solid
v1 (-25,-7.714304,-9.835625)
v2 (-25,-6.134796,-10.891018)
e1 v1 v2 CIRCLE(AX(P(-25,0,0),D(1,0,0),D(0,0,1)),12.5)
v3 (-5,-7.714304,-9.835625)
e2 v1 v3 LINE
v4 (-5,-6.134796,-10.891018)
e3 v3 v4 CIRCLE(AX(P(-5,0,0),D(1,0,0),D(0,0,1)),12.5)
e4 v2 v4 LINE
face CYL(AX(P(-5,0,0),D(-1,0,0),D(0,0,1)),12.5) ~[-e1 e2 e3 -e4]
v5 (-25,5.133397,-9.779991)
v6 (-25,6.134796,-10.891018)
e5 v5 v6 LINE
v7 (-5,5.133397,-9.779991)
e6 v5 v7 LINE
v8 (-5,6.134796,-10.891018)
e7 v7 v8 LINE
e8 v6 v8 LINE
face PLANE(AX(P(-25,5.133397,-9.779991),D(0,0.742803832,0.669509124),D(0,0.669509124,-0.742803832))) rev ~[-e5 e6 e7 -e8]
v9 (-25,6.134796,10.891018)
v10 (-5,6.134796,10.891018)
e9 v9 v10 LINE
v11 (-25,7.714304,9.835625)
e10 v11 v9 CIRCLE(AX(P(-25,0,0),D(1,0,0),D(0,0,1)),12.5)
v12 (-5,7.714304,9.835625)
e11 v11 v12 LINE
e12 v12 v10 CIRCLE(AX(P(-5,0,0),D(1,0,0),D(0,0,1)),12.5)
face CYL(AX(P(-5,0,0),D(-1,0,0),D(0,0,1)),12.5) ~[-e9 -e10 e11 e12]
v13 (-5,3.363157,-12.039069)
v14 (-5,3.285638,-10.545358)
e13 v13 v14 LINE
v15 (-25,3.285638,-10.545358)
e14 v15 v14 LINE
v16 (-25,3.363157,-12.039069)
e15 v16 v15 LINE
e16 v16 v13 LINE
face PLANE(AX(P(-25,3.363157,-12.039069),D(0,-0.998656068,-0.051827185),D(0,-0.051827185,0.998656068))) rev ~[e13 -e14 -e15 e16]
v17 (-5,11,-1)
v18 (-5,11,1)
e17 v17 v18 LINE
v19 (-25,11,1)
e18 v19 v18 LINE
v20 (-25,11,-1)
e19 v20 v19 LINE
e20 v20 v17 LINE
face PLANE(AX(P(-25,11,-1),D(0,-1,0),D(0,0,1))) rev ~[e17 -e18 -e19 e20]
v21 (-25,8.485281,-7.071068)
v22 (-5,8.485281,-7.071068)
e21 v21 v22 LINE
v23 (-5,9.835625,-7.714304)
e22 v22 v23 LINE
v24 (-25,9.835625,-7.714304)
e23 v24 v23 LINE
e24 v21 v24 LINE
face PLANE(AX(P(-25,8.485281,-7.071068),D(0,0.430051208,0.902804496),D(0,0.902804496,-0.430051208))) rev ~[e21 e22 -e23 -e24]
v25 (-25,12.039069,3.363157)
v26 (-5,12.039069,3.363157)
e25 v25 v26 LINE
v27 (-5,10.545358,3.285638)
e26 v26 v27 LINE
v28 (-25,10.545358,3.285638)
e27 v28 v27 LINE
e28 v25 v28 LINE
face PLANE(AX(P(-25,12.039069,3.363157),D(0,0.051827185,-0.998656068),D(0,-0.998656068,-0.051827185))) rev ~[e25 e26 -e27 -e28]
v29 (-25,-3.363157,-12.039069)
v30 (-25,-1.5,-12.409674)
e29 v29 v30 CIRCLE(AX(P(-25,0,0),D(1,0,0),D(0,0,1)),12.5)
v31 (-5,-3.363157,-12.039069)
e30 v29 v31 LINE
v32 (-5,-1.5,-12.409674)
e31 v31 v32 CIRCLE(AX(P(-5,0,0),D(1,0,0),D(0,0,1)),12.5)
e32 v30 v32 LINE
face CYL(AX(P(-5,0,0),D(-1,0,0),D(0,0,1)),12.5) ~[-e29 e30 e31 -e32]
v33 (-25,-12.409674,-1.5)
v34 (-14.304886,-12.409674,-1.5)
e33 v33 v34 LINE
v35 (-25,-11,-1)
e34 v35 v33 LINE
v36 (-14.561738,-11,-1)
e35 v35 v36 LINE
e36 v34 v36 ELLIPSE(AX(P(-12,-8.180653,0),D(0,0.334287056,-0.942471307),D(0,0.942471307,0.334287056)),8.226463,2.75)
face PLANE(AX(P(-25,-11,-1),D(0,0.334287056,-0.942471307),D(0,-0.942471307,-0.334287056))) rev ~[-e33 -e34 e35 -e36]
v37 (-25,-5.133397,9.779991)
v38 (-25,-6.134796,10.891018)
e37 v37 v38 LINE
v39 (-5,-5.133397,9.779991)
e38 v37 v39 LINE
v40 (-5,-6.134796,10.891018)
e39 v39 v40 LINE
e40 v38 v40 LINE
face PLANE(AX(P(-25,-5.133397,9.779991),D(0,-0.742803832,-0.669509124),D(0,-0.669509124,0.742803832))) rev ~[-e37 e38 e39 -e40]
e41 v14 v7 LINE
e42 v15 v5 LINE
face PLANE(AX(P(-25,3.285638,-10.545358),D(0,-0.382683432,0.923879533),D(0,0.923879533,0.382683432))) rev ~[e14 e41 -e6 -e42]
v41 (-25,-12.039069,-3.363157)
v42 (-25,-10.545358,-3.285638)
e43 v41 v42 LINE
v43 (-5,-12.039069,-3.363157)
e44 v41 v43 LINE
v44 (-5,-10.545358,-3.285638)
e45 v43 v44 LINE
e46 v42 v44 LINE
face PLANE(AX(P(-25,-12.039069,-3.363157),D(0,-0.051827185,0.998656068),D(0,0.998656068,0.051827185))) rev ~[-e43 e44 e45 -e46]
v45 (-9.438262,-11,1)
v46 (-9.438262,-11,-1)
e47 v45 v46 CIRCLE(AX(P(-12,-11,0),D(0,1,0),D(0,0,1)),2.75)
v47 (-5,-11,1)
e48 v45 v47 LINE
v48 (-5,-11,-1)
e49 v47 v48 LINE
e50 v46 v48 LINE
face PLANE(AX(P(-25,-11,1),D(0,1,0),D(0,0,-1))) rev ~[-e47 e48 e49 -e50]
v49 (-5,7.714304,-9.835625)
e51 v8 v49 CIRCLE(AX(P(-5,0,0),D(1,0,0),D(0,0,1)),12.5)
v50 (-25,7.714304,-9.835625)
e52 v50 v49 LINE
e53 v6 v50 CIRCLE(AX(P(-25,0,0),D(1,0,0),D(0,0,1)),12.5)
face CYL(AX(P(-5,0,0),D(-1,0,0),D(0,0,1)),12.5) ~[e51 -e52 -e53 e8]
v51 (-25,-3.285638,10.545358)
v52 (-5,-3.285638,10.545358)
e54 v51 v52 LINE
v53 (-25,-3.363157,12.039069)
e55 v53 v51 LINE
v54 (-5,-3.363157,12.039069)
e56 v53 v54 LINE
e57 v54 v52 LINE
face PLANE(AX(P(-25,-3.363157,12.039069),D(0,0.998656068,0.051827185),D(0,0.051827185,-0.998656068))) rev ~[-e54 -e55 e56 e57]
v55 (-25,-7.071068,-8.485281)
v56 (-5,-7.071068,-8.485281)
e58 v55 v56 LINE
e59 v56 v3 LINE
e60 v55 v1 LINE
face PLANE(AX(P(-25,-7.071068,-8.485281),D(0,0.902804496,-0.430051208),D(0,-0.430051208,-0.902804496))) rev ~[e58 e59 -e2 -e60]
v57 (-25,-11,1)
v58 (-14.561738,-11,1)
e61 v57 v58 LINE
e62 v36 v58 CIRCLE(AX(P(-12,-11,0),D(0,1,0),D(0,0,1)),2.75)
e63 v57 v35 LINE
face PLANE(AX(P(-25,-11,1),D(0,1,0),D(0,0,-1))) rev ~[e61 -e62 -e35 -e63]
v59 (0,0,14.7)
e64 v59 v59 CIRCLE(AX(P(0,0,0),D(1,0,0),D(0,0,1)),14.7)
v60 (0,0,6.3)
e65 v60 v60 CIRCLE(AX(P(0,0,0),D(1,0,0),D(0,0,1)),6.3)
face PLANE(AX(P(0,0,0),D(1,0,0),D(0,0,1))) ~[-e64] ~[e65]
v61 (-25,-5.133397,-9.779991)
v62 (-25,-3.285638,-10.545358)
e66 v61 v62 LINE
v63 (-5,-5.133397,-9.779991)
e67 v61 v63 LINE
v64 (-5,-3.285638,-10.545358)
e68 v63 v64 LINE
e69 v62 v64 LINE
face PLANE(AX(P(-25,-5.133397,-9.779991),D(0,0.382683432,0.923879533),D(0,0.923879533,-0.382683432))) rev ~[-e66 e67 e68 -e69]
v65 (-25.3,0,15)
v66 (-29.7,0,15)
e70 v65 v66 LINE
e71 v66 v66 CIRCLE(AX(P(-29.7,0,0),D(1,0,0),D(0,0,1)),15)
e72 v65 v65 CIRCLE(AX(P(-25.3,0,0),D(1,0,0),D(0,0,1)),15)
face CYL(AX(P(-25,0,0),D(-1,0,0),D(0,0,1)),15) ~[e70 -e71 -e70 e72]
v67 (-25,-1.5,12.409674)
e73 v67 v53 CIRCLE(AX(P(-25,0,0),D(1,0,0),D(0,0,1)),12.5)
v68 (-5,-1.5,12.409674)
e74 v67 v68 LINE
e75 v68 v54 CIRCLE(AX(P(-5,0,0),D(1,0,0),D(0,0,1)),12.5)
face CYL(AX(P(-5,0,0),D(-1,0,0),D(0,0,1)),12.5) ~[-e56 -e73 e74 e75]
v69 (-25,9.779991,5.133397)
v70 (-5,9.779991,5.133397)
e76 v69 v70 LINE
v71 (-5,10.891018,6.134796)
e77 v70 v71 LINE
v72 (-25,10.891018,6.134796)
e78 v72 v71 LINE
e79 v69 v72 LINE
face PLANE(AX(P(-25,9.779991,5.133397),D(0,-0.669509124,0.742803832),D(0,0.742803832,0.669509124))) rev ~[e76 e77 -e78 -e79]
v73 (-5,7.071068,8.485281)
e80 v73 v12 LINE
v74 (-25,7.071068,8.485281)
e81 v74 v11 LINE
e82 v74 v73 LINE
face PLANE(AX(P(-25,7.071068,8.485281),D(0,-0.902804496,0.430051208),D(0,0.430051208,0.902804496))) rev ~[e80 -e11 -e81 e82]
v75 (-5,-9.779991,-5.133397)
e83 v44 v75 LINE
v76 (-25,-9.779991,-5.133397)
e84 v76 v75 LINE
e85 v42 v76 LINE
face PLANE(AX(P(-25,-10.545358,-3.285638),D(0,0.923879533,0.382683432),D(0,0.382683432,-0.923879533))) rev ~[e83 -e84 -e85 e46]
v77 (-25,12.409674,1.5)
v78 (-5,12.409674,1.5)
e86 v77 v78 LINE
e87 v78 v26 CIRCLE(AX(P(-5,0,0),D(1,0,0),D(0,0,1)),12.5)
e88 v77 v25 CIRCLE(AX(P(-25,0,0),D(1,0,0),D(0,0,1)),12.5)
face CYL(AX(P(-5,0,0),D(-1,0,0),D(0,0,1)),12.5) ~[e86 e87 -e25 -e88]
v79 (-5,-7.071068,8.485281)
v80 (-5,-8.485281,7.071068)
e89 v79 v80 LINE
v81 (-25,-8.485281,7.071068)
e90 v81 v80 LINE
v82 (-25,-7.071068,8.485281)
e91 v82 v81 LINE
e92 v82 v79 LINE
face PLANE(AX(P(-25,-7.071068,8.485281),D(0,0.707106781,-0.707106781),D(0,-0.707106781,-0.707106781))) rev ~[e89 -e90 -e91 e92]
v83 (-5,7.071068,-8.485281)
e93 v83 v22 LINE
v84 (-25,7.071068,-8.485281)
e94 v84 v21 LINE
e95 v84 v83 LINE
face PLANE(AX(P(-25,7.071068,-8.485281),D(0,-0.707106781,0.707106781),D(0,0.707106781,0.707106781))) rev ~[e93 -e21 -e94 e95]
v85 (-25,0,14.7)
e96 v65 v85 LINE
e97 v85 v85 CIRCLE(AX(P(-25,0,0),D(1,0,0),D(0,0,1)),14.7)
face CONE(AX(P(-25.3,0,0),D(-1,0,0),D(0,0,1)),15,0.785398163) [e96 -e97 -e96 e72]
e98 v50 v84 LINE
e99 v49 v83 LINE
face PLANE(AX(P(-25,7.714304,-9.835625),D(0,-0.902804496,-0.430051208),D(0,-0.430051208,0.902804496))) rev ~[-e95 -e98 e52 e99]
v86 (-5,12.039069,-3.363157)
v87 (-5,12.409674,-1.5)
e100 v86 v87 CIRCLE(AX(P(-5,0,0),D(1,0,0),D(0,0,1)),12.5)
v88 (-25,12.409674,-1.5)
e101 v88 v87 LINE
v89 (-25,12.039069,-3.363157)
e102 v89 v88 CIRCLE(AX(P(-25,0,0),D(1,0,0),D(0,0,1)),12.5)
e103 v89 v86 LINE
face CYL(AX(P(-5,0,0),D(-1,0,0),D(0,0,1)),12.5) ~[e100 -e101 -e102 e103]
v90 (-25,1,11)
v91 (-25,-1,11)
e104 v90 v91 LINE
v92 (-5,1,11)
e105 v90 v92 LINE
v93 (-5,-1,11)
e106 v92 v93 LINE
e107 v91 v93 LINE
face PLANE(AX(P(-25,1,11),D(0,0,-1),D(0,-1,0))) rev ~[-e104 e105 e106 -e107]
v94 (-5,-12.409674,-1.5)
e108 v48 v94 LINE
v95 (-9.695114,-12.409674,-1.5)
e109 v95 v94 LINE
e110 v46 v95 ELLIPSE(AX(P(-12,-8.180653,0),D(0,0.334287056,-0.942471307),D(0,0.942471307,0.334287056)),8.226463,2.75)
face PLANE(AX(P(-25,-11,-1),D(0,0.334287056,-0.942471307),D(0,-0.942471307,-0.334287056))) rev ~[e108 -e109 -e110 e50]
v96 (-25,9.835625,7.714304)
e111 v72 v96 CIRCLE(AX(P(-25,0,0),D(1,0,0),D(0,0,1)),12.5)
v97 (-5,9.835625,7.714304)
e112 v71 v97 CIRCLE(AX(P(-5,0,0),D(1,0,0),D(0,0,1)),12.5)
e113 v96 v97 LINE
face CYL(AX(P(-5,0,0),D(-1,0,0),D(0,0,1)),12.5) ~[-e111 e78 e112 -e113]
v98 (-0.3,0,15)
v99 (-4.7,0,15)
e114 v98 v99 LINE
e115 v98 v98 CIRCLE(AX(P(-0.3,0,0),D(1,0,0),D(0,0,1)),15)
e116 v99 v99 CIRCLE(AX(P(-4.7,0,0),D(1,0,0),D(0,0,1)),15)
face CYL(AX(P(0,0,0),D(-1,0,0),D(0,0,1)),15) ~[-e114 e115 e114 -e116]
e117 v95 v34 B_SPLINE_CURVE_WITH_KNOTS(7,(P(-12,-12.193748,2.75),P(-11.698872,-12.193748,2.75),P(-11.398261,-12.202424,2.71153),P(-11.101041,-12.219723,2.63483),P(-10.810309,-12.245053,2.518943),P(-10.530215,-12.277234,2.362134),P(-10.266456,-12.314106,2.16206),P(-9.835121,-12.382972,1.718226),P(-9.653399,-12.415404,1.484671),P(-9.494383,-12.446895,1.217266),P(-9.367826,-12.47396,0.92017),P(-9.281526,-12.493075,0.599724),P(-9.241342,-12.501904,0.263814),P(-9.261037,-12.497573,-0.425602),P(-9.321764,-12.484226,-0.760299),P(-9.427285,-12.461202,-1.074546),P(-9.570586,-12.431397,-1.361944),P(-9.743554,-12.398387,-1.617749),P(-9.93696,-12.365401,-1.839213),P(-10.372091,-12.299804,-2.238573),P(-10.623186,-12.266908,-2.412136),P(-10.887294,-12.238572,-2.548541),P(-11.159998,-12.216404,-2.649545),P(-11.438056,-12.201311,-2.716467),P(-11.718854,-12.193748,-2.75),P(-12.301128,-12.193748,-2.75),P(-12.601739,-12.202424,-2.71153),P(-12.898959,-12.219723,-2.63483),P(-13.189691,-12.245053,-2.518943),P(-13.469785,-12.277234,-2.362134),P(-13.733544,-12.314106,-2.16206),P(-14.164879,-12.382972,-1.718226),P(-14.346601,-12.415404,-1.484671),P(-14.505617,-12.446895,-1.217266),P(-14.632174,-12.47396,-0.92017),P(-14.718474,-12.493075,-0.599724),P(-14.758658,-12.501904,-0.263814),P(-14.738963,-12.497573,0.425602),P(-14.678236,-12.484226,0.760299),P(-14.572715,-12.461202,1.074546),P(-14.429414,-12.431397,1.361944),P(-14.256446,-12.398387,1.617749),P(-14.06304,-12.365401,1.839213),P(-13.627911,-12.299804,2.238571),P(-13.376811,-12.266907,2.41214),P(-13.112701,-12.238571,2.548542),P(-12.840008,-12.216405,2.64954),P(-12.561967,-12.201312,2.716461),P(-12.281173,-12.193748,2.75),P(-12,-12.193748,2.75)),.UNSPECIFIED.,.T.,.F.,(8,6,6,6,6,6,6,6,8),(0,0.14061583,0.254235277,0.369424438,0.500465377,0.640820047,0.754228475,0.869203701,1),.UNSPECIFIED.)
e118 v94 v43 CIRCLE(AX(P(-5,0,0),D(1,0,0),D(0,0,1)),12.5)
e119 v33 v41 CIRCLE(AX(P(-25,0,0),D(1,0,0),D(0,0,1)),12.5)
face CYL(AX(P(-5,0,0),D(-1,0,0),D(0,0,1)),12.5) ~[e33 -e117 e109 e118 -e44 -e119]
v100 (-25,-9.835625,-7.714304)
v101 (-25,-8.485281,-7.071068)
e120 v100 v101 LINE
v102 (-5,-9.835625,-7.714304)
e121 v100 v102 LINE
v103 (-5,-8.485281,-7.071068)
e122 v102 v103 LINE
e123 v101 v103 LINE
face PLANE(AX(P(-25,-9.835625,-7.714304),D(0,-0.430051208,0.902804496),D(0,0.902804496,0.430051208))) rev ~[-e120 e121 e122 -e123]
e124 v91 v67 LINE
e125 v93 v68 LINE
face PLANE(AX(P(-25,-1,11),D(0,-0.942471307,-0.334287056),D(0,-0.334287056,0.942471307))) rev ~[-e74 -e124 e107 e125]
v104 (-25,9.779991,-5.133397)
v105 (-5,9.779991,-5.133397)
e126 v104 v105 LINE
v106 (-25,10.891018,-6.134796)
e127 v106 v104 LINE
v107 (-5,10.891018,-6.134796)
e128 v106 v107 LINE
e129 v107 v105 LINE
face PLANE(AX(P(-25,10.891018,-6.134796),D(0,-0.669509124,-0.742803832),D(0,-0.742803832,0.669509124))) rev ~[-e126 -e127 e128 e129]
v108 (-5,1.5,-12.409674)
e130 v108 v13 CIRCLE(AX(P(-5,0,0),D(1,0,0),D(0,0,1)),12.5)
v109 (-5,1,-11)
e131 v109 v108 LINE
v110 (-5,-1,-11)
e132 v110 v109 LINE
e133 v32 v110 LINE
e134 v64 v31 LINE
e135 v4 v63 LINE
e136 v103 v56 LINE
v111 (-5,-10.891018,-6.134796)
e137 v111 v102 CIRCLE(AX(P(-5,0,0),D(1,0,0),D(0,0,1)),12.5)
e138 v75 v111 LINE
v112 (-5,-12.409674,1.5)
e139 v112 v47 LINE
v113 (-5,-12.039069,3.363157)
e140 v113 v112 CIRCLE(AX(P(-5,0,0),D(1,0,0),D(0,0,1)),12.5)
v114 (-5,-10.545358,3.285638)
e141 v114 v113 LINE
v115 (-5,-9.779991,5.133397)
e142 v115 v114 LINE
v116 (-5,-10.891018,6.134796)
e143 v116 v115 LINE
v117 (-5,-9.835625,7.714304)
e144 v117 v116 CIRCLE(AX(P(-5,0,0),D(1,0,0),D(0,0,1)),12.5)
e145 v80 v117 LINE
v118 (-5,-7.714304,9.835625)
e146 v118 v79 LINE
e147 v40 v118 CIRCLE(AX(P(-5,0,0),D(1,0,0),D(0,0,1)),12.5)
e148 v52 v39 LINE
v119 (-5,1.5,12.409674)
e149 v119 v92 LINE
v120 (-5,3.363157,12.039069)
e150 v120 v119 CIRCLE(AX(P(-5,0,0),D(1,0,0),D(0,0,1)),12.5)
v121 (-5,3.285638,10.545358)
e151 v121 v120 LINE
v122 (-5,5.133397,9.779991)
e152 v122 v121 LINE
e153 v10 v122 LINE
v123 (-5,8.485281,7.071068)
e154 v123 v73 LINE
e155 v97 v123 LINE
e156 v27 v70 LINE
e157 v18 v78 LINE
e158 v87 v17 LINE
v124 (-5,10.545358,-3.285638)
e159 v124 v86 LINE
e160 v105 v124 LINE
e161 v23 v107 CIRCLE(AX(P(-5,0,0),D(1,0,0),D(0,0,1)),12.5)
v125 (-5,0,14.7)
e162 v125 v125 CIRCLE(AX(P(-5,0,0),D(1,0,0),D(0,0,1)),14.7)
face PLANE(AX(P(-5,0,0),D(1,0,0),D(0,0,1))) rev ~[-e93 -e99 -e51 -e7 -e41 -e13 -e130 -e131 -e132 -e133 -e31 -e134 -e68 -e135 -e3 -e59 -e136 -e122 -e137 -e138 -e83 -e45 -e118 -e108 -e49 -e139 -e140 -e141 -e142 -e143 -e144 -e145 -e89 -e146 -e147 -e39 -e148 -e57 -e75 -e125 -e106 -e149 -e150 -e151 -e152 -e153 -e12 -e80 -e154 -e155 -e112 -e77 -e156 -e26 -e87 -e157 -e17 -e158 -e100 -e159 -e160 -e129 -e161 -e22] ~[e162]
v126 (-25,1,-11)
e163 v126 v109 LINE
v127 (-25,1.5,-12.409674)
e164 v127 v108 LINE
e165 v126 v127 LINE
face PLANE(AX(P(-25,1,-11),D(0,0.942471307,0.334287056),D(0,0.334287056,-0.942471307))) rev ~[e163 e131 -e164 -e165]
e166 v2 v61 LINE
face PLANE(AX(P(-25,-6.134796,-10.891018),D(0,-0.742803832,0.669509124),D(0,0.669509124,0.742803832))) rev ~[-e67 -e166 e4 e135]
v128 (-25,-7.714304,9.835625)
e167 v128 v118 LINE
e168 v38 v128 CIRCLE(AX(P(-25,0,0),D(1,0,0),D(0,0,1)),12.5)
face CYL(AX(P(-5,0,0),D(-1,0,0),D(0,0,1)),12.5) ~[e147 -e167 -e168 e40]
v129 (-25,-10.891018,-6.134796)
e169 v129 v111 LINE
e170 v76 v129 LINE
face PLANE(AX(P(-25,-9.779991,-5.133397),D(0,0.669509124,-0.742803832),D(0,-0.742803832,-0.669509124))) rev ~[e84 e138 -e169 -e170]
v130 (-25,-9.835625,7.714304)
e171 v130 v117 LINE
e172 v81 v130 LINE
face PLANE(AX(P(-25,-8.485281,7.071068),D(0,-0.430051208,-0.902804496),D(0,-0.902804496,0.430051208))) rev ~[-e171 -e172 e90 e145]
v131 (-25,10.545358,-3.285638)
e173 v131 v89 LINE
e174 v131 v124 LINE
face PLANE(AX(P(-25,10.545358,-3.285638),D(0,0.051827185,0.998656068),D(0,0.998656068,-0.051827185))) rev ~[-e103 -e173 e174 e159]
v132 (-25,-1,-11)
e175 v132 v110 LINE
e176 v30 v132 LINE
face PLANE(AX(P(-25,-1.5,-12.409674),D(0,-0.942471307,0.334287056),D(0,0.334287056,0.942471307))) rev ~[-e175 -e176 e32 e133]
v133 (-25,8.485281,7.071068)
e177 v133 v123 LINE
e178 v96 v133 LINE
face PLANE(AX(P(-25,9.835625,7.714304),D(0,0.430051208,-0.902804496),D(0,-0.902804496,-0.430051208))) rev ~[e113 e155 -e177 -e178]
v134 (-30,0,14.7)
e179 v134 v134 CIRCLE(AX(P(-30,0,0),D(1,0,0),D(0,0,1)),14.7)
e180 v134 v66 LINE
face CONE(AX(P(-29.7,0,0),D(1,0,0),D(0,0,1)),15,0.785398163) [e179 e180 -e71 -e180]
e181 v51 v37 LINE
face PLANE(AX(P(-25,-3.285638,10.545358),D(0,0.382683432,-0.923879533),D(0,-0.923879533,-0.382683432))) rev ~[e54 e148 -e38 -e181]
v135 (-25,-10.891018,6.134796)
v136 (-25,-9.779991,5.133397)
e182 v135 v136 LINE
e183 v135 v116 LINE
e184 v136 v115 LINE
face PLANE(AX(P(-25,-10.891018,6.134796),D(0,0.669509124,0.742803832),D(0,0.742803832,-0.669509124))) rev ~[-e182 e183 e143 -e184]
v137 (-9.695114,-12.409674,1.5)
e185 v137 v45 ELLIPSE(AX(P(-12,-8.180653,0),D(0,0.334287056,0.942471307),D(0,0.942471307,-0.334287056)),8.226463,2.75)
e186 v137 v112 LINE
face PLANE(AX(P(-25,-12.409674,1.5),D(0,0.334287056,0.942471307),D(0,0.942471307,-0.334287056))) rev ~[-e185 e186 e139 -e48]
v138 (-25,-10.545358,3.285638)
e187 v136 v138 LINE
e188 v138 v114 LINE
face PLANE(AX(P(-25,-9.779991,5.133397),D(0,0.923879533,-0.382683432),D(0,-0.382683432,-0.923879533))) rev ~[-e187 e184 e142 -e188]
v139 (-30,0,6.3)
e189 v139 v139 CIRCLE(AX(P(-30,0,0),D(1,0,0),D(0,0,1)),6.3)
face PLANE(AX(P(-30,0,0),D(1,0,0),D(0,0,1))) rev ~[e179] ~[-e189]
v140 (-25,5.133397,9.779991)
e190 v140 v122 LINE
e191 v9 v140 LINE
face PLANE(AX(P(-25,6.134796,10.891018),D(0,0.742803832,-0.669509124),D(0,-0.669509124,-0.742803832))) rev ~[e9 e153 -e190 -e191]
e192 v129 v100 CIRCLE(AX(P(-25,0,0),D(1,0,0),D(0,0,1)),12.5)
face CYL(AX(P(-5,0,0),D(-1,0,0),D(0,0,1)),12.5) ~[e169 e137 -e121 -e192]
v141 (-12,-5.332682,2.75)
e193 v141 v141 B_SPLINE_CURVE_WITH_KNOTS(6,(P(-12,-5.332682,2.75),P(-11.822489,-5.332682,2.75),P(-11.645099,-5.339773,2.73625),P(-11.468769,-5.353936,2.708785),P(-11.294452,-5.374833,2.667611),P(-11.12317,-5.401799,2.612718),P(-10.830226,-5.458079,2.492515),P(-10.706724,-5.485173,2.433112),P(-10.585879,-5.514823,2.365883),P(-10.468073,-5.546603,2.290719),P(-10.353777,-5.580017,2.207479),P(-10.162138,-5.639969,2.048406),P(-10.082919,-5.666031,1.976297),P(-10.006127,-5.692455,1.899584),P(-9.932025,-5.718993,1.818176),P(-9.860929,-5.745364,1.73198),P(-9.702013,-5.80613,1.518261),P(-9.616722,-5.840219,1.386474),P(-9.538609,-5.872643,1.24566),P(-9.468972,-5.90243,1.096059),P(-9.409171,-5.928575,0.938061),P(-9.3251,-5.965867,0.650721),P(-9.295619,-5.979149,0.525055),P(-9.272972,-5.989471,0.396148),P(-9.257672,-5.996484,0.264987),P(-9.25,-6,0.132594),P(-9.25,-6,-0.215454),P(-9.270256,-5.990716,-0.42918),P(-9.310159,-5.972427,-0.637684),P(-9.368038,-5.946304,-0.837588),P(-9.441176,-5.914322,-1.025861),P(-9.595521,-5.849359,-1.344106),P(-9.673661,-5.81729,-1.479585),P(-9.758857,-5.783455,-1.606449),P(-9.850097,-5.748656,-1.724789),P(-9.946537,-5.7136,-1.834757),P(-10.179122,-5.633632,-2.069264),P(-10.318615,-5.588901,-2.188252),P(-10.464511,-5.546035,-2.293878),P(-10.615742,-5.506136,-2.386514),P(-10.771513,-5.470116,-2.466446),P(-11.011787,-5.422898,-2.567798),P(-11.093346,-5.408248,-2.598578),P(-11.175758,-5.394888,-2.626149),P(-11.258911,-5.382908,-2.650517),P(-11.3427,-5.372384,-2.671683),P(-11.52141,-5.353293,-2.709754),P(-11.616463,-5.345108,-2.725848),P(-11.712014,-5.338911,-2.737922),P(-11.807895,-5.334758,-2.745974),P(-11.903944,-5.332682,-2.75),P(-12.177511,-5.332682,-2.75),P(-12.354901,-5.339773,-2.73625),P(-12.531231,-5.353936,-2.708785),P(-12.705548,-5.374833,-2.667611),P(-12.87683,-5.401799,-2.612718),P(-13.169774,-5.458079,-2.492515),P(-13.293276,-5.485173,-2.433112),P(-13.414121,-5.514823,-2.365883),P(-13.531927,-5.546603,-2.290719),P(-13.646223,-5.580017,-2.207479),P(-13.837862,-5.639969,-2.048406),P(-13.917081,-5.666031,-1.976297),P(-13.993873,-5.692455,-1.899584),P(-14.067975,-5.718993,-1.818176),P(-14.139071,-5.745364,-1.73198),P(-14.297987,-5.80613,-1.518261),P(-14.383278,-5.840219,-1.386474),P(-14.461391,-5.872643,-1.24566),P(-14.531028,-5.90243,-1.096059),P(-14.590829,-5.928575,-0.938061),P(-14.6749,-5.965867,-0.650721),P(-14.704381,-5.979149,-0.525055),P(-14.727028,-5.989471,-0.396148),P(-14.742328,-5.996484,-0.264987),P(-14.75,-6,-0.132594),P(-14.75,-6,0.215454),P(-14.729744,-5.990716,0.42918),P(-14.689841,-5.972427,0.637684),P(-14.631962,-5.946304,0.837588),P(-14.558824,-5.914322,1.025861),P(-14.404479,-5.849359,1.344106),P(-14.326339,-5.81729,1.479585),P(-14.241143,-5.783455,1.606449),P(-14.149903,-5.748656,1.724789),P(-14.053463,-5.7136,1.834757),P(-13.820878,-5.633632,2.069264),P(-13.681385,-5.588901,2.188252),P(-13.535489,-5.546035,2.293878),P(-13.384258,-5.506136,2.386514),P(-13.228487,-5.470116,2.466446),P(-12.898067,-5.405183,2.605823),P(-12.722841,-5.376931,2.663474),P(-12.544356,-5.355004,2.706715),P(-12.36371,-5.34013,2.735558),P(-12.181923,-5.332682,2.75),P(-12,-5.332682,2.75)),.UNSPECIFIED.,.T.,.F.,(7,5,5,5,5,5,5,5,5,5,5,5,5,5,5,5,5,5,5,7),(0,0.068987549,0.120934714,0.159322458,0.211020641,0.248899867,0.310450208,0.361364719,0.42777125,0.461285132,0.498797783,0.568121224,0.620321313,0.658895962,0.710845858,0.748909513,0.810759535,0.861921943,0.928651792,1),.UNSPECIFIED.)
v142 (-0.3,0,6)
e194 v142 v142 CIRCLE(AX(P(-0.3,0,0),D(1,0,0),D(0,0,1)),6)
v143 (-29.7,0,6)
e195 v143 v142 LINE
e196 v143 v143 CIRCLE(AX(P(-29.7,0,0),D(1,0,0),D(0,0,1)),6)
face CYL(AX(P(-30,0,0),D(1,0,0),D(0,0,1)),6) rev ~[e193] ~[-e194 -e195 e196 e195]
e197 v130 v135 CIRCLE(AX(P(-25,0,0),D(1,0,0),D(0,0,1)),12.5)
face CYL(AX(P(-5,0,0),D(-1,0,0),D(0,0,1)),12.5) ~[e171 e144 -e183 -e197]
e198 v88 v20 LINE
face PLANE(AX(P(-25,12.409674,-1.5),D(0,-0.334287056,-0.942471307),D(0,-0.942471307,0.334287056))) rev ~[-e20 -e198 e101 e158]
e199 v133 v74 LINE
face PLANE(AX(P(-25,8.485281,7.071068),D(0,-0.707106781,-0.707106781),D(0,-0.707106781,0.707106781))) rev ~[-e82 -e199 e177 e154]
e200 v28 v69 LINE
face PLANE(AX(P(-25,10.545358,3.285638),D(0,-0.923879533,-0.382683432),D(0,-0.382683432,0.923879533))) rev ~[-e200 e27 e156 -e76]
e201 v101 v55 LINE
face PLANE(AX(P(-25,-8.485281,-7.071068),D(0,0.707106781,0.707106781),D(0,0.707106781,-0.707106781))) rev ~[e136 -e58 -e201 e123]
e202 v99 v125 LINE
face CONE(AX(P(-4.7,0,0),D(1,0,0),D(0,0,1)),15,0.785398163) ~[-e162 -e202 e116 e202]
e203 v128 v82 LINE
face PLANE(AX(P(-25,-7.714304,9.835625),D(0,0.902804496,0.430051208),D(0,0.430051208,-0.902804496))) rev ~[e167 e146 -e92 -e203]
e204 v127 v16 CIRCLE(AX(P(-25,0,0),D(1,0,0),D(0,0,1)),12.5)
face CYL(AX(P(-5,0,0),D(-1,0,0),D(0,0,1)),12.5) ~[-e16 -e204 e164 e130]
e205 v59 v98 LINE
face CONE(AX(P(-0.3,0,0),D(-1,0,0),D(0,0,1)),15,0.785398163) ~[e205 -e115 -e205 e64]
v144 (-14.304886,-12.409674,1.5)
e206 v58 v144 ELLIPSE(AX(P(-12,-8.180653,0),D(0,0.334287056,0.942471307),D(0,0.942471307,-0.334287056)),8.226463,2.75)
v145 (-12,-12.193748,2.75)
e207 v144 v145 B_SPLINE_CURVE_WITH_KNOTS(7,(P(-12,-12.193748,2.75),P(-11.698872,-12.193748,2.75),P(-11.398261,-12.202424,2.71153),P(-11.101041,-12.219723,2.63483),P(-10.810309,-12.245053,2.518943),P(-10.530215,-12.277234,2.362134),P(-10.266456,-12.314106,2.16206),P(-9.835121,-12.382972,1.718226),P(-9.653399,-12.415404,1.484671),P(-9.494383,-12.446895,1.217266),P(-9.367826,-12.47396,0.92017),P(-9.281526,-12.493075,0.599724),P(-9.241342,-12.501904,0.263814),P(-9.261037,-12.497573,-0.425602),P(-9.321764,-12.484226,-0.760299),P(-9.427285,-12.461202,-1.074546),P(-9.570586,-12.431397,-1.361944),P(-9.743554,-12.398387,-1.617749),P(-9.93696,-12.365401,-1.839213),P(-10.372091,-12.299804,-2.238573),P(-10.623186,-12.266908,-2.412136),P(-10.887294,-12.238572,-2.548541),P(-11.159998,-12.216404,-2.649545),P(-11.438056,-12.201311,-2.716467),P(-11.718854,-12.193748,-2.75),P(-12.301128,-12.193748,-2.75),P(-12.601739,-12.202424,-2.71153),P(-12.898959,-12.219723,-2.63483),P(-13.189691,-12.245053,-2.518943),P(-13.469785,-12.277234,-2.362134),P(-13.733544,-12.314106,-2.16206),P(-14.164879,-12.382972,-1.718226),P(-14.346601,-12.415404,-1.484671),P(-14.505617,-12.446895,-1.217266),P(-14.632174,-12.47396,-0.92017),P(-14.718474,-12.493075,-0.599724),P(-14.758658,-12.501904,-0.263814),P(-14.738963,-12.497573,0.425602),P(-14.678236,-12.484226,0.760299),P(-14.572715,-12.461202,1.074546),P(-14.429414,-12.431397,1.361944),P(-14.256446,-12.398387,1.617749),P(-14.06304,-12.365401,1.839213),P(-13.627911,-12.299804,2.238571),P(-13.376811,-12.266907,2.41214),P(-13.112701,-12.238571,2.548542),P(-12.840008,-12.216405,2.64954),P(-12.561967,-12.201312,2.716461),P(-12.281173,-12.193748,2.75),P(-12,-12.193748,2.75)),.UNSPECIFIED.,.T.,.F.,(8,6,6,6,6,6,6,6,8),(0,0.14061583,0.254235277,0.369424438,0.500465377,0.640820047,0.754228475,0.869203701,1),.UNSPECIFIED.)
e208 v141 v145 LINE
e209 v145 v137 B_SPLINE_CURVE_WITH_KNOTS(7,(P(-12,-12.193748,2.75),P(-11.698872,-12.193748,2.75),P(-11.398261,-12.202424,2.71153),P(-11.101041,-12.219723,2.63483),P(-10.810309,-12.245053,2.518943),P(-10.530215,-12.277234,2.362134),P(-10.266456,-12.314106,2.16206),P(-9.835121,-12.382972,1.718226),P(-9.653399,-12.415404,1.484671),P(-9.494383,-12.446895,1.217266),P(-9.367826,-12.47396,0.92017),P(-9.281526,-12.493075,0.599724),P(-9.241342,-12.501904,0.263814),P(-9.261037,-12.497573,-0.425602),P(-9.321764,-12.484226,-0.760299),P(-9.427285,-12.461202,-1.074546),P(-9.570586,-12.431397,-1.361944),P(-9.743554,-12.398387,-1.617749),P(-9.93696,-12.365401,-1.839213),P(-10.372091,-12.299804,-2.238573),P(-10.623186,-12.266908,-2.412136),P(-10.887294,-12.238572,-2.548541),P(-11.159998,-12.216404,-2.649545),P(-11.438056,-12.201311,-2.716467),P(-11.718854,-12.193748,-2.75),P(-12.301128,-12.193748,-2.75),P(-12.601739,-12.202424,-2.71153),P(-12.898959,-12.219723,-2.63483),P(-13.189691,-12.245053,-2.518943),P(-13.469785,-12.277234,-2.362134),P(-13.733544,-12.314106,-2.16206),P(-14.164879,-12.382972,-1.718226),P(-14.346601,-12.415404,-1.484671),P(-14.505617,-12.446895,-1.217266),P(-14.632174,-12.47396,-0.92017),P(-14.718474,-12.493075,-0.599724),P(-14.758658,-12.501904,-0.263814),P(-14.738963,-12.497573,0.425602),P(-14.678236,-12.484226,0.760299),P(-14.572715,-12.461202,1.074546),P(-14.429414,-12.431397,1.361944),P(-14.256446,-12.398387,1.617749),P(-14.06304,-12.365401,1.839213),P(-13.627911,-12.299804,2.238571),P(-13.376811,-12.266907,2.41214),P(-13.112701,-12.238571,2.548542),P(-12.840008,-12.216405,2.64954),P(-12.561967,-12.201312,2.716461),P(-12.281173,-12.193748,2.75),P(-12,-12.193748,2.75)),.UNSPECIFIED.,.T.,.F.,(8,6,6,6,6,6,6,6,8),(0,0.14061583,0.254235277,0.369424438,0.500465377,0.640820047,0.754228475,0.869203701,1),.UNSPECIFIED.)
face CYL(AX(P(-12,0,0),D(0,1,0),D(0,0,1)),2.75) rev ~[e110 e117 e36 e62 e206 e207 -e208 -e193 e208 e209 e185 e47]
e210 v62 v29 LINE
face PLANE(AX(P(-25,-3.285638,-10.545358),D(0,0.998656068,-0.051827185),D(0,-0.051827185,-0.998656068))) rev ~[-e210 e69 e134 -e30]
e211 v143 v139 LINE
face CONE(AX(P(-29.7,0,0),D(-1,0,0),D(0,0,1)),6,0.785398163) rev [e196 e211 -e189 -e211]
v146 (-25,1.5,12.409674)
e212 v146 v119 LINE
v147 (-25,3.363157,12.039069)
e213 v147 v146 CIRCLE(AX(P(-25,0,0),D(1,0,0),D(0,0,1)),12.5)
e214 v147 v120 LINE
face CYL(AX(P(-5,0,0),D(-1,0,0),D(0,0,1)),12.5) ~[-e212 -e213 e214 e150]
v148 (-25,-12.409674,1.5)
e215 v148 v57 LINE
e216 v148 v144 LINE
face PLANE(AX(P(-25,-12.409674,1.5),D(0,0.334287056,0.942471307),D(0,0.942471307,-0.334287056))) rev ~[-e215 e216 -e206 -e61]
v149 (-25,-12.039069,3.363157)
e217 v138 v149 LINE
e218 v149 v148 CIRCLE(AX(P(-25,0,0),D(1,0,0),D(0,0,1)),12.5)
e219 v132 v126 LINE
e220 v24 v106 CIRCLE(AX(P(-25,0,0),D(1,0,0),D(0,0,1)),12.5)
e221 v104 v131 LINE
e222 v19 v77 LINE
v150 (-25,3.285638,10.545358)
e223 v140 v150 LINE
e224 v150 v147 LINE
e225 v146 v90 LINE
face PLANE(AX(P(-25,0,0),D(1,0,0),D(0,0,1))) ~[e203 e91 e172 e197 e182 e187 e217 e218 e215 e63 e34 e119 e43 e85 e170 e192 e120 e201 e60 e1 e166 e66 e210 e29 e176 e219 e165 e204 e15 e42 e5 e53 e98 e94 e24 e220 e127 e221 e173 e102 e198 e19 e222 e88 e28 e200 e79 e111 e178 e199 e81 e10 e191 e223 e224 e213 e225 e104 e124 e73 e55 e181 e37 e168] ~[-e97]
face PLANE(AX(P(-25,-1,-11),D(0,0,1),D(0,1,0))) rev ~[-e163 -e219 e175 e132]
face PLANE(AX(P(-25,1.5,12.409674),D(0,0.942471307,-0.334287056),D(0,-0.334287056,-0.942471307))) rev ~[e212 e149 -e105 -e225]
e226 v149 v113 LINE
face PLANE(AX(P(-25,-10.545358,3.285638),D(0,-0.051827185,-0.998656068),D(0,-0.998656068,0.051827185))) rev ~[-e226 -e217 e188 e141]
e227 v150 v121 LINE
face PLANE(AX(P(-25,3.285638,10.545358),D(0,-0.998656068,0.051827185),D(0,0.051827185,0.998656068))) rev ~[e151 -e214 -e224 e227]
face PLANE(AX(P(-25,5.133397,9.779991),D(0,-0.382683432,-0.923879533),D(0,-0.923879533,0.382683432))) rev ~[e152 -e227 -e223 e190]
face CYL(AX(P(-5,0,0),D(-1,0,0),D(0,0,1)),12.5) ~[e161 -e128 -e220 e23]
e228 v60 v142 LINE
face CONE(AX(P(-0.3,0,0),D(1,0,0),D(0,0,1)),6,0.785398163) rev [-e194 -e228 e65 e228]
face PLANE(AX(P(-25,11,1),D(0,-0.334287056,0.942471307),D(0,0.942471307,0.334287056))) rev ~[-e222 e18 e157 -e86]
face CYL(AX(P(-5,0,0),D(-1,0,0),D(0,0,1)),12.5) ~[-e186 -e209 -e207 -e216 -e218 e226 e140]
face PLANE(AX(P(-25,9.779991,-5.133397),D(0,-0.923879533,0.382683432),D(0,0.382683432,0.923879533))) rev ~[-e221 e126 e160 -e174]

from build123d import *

# Parameters (mm, degrees)
SKETCH_2_R               = 2.75
CUT_EXTRUDE_1_DEPTH      = 37.742346142
CUT_EXTRUDE_START        = 20
CUT_EXTRUDE_2_DEPTH      = 20
PATTERN_CIRCULAR_1_COUNT = 16
CHAMFER_1_SIZE           = 0.3


with BuildPart() as part:
    # Эскиз1 → Повернуть1 (revolve)
    with BuildSketch(Plane.XY, mode=Mode.PRIVATE) as revolve_1_sk:
        Polygon((0, 6), (0, 15), (-5, 15), (-5, 12.5), (-25, 12.5), (-25, 15), (-30, 15), (-30, 6), align=None)
    revolve(revolve_1_sk.sketch.rotate(Axis((-33.310992453, 0, 0), (1, 0, 0)), 90), axis=Axis((-33.310992453, 0, 0), (1, 0, 0)))

    # Эскиз2 → Вырез-Вытянуть1 (cut, through all)
    with BuildSketch(Plane(origin=(0, 0, 0), x_dir=(1, 0, 0), z_dir=(0, 1, 0))):
        with Locations(Location((-12, 0, 0), (0, 0, 270))):
            Circle(SKETCH_2_R)
    extrude(amount=-CUT_EXTRUDE_1_DEPTH, mode=Mode.SUBTRACT)

    # Эскиз3 → Вырез-Вытянуть2 (cut)
    with BuildSketch(Plane.ZY.offset(5).offset(CUT_EXTRUDE_START)):
        with BuildLine():
            Line((-1.5, 12.409673646), (-1, 11))
            Line((-1, 11), (1, 11))
            Line((1, 11), (1.5, 12.409673646))
            ThreePointArc((1.5, 12.409673646), (0, 12.5), (-1.5, 12.409673646))
        make_face()
    cut_extrude_2 = extrude(amount=-CUT_EXTRUDE_2_DEPTH, mode=Mode.SUBTRACT)

    # Круговой массив1: Вырез-Вытянуть2 ×16 about axis
    pattern_circular_1_axis = Axis((0, 0, 0), (1, 0, 0))
    for i in range(1, PATTERN_CIRCULAR_1_COUNT):
        add(cut_extrude_2.rotate(pattern_circular_1_axis, i * 360 / PATTERN_CIRCULAR_1_COUNT), mode=Mode.SUBTRACT)

    # Фаска1
    chamfer_1_edges = [part.edges().sort_by_distance(p)[0] for p in [
        (0, 0, -6),
        (-30, 0, -6),
        (-30, 0, -15),
        (-25, 0, -15),
        (-5, 0, -15),
        (0, 0, -15),
    ]]
    chamfer(chamfer_1_edges, length=CHAMFER_1_SIZE)


solid = part.part
